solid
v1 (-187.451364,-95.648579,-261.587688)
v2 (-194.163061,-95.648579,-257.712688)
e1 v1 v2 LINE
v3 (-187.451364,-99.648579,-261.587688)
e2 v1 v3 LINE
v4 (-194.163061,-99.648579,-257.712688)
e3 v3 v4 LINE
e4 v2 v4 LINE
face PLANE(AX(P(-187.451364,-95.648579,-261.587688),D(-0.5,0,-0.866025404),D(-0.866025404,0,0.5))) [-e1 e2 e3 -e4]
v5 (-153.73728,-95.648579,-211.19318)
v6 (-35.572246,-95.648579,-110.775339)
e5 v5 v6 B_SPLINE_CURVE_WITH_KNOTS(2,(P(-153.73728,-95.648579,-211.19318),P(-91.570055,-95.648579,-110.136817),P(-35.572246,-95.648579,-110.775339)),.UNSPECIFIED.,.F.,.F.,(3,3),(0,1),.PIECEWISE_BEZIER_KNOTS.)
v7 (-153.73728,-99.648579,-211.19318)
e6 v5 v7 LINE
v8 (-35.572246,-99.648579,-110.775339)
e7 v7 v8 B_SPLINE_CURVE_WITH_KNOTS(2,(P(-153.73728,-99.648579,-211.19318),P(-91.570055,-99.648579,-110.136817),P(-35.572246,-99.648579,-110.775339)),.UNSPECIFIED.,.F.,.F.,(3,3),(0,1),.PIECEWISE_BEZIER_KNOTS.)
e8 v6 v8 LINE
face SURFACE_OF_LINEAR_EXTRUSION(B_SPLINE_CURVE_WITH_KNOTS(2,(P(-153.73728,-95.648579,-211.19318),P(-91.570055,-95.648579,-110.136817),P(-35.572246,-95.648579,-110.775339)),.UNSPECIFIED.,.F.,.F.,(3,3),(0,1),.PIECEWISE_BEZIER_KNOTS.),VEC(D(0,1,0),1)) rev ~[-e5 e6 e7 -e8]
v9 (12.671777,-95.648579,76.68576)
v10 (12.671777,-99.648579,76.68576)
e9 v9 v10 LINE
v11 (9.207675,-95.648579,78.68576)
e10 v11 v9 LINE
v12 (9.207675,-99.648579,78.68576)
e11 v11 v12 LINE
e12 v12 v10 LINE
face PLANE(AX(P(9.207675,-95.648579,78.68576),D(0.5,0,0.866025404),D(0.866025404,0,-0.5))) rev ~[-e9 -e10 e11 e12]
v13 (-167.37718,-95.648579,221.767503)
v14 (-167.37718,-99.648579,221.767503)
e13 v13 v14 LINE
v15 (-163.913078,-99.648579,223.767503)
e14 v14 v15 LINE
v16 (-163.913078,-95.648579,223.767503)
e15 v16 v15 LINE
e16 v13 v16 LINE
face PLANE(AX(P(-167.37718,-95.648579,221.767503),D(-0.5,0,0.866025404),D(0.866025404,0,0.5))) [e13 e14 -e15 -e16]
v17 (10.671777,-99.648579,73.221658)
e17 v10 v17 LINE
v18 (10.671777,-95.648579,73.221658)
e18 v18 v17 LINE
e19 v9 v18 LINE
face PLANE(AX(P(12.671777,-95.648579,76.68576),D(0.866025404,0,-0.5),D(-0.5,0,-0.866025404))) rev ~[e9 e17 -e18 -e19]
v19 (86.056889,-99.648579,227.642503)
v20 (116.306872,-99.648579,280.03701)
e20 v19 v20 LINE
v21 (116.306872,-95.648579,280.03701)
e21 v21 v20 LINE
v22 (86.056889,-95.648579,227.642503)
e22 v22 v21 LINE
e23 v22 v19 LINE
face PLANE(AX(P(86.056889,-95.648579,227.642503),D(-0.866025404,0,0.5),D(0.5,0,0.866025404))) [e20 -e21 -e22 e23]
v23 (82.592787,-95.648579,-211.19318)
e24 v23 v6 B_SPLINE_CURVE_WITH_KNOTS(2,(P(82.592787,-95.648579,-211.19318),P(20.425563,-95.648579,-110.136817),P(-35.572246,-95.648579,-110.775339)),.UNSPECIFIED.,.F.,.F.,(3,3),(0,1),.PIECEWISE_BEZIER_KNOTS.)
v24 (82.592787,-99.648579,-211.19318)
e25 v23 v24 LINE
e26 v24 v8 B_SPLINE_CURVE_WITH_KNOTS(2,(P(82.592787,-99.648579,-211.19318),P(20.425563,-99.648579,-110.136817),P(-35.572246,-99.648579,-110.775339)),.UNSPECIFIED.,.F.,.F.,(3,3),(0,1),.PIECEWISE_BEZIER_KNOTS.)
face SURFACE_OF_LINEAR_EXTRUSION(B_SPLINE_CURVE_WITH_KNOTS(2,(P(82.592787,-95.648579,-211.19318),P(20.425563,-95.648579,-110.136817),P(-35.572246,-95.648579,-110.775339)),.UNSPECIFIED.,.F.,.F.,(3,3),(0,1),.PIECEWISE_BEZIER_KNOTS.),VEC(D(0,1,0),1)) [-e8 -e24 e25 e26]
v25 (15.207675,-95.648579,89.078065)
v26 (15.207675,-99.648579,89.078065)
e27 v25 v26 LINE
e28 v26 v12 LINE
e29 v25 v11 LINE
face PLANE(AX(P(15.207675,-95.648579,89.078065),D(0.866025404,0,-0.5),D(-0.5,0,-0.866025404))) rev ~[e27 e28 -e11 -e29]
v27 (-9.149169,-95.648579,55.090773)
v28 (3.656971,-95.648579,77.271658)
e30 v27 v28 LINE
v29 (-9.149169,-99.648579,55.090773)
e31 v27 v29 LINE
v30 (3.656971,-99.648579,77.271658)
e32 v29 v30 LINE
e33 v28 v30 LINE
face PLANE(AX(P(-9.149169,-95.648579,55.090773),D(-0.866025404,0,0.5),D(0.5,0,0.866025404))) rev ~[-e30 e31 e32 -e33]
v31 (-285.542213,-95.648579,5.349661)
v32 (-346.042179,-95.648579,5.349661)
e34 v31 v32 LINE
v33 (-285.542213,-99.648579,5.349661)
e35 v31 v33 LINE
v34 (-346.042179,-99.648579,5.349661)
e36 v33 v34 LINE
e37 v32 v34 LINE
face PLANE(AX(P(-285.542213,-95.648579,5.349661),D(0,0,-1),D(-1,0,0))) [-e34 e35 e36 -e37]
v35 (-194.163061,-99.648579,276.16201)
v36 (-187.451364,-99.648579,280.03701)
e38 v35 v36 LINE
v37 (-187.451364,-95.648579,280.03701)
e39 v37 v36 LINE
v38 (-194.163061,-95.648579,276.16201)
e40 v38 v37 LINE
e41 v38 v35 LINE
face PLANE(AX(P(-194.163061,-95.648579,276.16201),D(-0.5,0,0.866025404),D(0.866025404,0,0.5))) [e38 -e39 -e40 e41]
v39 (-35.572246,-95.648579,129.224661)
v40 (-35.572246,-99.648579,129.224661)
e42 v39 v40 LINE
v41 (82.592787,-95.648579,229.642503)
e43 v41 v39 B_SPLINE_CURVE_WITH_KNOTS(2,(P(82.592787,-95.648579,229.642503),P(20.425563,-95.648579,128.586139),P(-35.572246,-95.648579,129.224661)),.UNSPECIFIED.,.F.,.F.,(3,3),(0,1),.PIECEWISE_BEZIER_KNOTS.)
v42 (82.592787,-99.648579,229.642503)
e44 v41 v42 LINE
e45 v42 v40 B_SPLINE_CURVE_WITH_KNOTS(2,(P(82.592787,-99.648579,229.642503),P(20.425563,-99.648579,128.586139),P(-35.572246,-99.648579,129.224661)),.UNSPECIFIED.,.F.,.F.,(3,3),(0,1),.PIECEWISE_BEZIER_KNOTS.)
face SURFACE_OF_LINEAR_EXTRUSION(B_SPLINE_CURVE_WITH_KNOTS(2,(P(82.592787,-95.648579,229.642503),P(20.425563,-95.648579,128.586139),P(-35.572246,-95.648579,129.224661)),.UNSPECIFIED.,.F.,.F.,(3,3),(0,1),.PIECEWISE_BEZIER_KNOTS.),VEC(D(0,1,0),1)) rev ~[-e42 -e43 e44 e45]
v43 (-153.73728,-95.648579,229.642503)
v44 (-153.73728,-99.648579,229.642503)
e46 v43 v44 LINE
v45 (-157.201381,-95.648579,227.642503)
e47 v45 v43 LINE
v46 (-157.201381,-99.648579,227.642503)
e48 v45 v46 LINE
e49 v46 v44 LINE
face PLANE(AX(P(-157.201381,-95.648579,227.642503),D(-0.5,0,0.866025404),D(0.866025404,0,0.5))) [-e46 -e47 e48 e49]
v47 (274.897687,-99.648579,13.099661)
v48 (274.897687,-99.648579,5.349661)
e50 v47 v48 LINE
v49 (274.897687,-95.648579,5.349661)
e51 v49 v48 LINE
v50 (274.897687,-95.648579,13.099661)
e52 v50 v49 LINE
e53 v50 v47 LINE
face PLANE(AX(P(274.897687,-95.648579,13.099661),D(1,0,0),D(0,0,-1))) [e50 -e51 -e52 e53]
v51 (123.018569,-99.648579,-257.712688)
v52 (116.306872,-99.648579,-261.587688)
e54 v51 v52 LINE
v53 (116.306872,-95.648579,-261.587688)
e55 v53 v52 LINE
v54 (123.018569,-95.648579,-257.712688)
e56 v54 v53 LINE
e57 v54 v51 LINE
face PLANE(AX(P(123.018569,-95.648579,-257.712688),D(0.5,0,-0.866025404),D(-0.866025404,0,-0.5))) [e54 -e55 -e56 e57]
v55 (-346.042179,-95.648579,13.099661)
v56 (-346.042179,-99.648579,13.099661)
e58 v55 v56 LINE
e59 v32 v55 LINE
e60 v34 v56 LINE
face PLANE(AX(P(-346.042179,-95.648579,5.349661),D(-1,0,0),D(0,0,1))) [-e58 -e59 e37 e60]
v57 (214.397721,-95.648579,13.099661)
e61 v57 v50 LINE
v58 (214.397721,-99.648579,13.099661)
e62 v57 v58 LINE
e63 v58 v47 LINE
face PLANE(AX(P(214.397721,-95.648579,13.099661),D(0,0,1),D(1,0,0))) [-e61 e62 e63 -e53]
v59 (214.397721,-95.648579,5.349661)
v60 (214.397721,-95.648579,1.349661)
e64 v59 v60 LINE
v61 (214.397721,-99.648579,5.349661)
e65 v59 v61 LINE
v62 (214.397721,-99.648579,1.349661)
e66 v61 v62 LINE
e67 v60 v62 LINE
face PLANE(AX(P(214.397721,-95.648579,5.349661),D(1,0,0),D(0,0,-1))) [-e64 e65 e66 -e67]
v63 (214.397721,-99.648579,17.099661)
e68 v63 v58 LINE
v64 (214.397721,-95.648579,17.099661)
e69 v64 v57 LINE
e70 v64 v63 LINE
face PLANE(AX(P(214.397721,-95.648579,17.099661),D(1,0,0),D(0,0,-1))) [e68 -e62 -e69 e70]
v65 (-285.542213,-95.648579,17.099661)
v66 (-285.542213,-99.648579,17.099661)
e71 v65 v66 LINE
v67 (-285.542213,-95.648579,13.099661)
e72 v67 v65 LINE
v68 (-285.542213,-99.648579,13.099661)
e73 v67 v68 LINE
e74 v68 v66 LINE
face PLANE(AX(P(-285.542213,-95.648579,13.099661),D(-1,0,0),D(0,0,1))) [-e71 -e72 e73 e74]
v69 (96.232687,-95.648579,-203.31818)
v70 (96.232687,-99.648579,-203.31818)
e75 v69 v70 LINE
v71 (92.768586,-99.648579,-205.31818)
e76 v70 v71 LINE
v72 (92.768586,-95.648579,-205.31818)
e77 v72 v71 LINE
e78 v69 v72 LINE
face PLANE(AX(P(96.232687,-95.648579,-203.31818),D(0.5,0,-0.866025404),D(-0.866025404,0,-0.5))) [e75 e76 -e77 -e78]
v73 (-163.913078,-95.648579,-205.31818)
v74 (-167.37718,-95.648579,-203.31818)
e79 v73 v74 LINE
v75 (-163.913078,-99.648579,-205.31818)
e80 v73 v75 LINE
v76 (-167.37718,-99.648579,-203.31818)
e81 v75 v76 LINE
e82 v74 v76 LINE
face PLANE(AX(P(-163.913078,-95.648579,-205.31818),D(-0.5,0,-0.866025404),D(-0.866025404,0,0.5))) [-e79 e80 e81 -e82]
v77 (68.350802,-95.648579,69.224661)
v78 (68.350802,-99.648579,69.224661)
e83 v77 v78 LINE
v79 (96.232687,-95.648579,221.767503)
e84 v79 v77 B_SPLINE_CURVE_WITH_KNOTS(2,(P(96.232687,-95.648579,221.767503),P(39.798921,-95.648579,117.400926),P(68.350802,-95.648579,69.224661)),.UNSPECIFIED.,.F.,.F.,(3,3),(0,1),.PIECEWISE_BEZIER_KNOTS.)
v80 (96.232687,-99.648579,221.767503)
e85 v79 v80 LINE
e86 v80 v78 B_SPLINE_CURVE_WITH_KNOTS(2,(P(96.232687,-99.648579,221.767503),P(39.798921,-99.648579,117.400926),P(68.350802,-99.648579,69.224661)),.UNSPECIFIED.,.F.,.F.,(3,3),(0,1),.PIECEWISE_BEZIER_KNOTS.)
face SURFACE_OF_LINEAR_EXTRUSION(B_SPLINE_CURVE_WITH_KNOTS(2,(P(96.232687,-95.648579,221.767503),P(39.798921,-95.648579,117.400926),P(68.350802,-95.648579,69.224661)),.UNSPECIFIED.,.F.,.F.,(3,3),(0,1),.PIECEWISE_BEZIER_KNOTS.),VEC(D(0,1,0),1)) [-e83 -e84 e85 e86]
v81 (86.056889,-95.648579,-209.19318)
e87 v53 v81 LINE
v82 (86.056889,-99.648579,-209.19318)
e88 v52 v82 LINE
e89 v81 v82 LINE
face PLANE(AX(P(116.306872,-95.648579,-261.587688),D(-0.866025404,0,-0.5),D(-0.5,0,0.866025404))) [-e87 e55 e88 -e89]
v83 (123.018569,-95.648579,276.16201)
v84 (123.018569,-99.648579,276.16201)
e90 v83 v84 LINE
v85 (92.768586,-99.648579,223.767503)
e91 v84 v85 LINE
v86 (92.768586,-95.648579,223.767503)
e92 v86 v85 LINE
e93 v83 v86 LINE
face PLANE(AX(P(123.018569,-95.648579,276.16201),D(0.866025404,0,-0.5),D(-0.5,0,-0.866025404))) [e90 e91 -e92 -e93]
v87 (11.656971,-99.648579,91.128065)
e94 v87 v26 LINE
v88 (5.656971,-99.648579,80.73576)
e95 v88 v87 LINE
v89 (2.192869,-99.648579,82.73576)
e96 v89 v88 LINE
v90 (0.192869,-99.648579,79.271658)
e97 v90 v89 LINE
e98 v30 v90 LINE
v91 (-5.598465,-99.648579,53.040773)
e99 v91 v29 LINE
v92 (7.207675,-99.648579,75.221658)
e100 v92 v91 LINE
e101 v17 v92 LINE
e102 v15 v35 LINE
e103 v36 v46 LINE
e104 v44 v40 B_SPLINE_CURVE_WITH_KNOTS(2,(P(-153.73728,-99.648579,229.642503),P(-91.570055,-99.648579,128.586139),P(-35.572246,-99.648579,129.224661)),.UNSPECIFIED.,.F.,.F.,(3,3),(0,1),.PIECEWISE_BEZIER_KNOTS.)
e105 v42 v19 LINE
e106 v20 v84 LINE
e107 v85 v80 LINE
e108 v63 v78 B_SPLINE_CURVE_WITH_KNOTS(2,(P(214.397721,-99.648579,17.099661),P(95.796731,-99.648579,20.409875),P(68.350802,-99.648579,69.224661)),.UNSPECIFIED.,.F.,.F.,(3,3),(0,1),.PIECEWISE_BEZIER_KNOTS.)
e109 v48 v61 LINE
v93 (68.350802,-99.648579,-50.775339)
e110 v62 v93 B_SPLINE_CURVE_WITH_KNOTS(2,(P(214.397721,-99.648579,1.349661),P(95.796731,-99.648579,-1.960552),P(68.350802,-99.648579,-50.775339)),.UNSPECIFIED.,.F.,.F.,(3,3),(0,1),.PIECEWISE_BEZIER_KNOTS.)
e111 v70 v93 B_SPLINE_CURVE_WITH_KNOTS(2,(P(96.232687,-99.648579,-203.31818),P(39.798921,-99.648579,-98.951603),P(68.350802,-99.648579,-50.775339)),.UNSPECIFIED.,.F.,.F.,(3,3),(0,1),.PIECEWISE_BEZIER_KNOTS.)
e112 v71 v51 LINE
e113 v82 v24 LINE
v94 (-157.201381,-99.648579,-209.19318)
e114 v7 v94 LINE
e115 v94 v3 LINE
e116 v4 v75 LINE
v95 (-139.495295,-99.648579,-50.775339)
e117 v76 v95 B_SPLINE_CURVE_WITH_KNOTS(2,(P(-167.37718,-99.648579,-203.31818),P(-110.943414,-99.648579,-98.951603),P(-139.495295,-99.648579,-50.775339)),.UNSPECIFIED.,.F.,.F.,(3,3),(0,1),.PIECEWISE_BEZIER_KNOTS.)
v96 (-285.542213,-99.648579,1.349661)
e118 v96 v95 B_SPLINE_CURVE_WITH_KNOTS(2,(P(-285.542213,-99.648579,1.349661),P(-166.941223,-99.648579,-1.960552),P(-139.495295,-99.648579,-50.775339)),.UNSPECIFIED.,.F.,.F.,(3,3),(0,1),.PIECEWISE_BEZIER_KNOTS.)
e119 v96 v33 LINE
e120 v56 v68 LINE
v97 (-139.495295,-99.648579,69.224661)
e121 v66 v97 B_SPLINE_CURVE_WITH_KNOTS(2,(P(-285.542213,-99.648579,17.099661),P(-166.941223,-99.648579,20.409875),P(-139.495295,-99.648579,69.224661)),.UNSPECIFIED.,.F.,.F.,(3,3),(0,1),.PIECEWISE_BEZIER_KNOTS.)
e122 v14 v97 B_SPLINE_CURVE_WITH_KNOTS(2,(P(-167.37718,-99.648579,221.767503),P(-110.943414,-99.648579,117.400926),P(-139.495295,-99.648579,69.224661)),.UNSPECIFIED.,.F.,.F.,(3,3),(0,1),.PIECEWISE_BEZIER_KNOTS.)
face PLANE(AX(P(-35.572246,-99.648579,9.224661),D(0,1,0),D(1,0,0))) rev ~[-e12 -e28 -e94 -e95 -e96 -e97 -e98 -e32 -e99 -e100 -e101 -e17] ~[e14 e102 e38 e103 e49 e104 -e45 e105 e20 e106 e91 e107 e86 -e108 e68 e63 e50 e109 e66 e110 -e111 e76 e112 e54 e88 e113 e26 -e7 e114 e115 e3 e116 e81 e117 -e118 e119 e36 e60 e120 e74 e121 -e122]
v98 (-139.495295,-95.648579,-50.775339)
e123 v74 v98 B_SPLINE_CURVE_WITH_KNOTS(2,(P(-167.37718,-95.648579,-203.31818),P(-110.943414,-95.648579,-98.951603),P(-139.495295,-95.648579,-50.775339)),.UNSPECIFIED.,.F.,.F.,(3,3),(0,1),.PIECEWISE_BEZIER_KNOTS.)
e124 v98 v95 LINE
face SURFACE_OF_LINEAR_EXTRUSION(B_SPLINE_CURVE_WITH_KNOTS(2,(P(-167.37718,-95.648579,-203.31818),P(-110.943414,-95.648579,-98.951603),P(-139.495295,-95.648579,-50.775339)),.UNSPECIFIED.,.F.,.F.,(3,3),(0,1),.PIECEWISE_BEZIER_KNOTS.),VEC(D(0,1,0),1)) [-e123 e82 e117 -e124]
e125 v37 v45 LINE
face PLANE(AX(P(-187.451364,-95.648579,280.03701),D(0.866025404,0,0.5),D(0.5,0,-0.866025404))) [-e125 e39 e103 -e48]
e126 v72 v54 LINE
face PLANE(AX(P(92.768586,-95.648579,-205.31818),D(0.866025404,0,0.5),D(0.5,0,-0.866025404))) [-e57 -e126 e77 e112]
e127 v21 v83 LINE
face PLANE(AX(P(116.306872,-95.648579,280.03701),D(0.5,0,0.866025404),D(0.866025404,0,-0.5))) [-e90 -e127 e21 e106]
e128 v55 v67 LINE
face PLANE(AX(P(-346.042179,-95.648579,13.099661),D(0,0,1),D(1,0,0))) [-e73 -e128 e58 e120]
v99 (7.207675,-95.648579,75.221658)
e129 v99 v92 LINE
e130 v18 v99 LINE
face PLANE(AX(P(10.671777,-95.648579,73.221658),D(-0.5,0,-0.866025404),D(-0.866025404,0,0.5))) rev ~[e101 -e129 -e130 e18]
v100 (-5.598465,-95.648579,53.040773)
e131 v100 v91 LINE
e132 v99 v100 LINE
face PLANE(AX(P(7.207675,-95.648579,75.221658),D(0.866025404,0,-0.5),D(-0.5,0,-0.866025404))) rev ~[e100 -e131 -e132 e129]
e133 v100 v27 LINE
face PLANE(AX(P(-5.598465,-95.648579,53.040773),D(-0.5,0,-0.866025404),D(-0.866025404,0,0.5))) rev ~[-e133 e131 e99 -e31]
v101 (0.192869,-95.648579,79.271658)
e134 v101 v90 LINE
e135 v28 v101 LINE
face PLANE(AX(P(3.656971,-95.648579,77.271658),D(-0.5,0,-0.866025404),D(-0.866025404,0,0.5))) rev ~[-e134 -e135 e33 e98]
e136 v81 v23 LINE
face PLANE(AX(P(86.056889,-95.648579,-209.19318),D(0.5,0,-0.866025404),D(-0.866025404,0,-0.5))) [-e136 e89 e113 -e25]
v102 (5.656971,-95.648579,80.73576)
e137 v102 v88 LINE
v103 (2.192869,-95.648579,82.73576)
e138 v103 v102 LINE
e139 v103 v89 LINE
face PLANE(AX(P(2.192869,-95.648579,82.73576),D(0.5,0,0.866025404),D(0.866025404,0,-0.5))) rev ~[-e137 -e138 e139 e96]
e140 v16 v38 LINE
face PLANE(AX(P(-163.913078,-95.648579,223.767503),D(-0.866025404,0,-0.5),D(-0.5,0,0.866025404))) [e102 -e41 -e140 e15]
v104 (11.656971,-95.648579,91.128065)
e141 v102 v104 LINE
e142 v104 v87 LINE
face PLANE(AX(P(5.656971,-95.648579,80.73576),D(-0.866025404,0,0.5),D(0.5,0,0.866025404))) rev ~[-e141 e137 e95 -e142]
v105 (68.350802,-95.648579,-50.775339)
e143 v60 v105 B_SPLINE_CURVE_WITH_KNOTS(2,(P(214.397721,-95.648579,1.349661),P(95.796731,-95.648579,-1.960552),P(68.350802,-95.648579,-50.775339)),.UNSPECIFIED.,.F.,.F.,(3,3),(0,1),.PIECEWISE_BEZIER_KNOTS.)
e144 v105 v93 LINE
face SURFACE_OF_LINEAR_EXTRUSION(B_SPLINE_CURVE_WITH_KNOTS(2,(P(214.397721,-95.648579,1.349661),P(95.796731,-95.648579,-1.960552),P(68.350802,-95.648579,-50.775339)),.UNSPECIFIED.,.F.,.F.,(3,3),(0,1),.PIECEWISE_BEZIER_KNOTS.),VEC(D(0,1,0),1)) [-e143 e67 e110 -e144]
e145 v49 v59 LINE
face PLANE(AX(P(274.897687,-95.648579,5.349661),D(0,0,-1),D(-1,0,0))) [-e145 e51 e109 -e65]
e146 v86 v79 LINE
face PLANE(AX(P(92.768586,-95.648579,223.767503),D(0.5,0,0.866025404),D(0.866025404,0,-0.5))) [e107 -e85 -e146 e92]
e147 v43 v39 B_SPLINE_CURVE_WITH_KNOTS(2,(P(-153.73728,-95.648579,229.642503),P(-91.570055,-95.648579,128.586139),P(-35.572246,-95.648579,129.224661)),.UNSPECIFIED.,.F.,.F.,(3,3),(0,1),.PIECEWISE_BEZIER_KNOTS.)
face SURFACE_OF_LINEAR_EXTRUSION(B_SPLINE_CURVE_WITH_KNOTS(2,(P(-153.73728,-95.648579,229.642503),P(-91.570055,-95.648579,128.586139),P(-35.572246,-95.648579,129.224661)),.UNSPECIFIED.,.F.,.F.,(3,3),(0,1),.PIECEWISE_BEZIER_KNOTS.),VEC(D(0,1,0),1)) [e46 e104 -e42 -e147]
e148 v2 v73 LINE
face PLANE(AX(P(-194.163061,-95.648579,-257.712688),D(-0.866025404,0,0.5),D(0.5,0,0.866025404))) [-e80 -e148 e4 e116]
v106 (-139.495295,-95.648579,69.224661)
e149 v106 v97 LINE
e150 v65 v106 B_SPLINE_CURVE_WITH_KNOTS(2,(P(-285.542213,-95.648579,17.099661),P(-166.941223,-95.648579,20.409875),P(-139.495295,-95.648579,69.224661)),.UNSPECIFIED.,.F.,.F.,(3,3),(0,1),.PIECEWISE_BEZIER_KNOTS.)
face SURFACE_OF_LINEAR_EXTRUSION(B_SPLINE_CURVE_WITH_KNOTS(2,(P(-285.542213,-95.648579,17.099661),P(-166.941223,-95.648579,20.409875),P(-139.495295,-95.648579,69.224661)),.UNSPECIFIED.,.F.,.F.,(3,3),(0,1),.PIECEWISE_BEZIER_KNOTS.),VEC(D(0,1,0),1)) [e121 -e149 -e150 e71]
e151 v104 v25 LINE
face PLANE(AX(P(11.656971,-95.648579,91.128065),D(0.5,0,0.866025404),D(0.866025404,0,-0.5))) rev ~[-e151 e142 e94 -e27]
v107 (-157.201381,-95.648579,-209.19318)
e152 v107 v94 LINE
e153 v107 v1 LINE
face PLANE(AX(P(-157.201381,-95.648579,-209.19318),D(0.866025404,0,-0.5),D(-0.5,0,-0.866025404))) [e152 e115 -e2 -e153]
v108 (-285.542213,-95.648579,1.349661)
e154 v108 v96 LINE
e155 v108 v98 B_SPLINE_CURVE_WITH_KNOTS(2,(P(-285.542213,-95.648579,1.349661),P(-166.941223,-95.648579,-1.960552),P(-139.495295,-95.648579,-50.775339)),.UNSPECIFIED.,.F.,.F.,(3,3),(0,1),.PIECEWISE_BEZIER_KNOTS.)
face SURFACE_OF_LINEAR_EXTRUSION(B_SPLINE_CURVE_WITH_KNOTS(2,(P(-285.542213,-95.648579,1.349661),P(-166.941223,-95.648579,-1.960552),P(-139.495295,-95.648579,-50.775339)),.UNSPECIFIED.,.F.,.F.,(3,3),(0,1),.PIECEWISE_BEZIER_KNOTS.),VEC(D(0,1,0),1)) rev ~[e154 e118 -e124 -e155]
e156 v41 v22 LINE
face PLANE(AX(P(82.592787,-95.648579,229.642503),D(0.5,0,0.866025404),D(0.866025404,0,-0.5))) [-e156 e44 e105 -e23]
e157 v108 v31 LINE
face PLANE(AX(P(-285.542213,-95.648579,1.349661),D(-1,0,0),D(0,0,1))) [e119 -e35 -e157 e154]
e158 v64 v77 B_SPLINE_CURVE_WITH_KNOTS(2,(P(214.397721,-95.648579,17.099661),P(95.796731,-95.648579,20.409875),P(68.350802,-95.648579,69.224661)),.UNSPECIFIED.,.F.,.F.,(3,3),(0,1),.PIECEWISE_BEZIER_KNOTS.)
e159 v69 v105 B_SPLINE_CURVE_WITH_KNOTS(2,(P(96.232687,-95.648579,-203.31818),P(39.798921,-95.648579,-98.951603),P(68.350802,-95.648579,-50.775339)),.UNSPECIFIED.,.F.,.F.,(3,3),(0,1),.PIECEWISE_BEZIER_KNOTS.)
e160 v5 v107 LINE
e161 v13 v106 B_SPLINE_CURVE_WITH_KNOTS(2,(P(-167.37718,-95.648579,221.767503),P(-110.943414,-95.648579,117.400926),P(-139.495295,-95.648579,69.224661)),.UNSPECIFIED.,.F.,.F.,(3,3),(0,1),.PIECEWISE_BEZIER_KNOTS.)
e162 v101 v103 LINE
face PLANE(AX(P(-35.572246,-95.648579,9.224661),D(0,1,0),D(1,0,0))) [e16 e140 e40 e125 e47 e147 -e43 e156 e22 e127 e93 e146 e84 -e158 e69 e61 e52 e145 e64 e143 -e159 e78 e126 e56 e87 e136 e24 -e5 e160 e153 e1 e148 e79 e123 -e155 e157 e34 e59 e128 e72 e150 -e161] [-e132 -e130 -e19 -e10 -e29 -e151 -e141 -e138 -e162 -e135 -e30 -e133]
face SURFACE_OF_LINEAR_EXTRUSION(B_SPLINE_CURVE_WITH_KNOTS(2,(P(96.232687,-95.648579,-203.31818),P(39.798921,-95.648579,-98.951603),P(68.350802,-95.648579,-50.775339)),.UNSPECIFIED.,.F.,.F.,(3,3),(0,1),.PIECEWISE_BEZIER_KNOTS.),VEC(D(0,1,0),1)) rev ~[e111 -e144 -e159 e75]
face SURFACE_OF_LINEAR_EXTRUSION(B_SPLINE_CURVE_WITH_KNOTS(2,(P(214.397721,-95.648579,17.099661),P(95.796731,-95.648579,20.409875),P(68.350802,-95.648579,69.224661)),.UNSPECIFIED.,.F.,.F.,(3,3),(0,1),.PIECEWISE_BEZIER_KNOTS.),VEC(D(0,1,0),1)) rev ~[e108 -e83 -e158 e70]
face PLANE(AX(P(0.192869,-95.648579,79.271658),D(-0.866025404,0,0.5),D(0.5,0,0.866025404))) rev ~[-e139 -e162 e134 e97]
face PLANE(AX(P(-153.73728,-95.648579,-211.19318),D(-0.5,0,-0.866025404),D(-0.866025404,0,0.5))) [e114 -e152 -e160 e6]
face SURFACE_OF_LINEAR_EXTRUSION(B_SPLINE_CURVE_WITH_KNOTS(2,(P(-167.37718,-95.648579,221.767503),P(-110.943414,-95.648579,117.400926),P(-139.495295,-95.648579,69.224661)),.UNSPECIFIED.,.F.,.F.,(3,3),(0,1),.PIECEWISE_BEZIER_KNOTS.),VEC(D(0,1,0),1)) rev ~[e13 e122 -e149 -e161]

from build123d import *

# Parameters (mm, degrees)
BOSS_EXTRUDE1_DEPTH = 4


with BuildPart() as part:
    # Sketch1 → Boss-Extrude1 (new body)
    with BuildSketch(Plane(origin=(0, -95.648578892, 0), x_dir=(-1, 0, 0), z_dir=(0, -1, 0))):
        with BuildLine():
            Line((-123.018568843, 257.712687792), (-116.306871964, 261.587687792))
            Line((-116.306871964, 261.587687792), (-86.056888913, 209.19318022))
            Line((-86.056888913, 209.19318022), (-82.592787298, 211.19318022))
            add(Edge.make_bspline(
                [(-82.592787298, 211.19318022), (-20.425563037, 110.136816529), (35.572246121, 110.775338662)],
                knots=[0, 0, 0, 1, 1, 1], degree=2))
            add(Edge.make_bspline(
                [(153.737279537, 211.193180221), (91.570055279, 110.136816529), (35.572246121, 110.775338662)],
                knots=[0, 0, 0, 1, 1, 1], degree=2))
            Line((153.737279537, 211.193180221), (157.201381153, 209.193180221))
            Line((157.201381153, 209.193180221), (187.451364204, 261.587687793))
            Line((187.451364204, 261.587687793), (194.163061083, 257.712687793))
            Line((194.163061083, 257.712687793), (163.913078032, 205.318180221))
            Line((163.913078032, 205.318180221), (167.377179647, 203.318180221))
            add(Edge.make_bspline(
                [(167.377179647, 203.318180221), (110.943413608, 98.951602883), (139.495294576, 50.775338663)],
                knots=[0, 0, 0, 1, 1, 1], degree=2))
            add(Edge.make_bspline(
                [(285.542213066, -1.349661336), (166.941222766, 1.960552309), (139.495294576, 50.775338663)],
                knots=[0, 0, 0, 1, 1, 1], degree=2))
            Line((285.542213066, -1.349661336), (285.542213066, -5.349661336))
            Line((285.542213066, -5.349661336), (346.042179168, -5.349661336))
            Line((346.042179168, -5.349661336), (346.042179168, -13.099661336))
            Line((346.042179168, -13.099661336), (285.542213066, -13.099661336))
            Line((285.542213066, -13.099661336), (285.542213066, -17.099661336))
            add(Edge.make_bspline(
                [(285.542213066, -17.099661336), (166.941222766, -20.409874983), (139.495294576, -69.224661337)],
                knots=[0, 0, 0, 1, 1, 1], degree=2))
            add(Edge.make_bspline(
                [(167.377179649, -221.767502894), (110.943413609, -117.400925558), (139.495294576, -69.224661337)],
                knots=[0, 0, 0, 1, 1, 1], degree=2))
            Line((167.377179649, -221.767502894), (163.913078034, -223.767502894))
            Line((163.913078034, -223.767502894), (194.163061085, -276.162010466))
            Line((194.163061085, -276.162010466), (187.451364206, -280.037010466))
            Line((187.451364206, -280.037010466), (157.201381155, -227.642502894))
            Line((157.201381155, -227.642502894), (153.737279539, -229.642502894))
            add(Edge.make_bspline(
                [(153.737279539, -229.642502894), (91.57005528, -128.586139204), (35.572246122, -129.224661338)],
                knots=[0, 0, 0, 1, 1, 1], degree=2))
            add(Edge.make_bspline(
                [(-82.592787296, -229.642502896), (-20.425563036, -128.586139204), (35.572246122, -129.224661338)],
                knots=[0, 0, 0, 1, 1, 1], degree=2))
            Line((-82.592787296, -229.642502896), (-86.056888911, -227.642502895))
            Line((-86.056888911, -227.642502895), (-116.306871962, -280.037010467))
            Line((-116.306871962, -280.037010467), (-123.018568841, -276.162010467))
            Line((-123.018568841, -276.162010467), (-92.76858579, -223.767502895))
            Line((-92.76858579, -223.767502895), (-96.232687406, -221.767502895))
            add(Edge.make_bspline(
                [(-96.232687406, -221.767502895), (-39.798921364, -117.400925558), (-68.350802332, -69.224661338)],
                knots=[0, 0, 0, 1, 1, 1], degree=2))
            add(Edge.make_bspline(
                [(-214.397720824, -17.099661339), (-95.796730523, -20.409874984), (-68.350802332, -69.224661338)],
                knots=[0, 0, 0, 1, 1, 1], degree=2))
            Line((-214.397720824, -17.099661339), (-214.397720824, -13.099661338))
            Line((-214.397720824, -13.099661338), (-274.897686926, -13.099661338))
            Line((-274.897686926, -13.099661338), (-274.897686926, -5.349661338))
            Line((-274.897686926, -5.349661338), (-214.397720824, -5.349661338))
            Line((-214.397720824, -5.349661338), (-214.397720824, -1.349661338))
            add(Edge.make_bspline(
                [(-214.397720824, -1.349661338), (-95.796730523, 1.960552308), (-68.350802333, 50.775338662)],
                knots=[0, 0, 0, 1, 1, 1], degree=2))
            add(Edge.make_bspline(
                [(-96.232687408, 203.31818022), (-39.798921365, 98.951602882), (-68.350802333, 50.775338662)],
                knots=[0, 0, 0, 1, 1, 1], degree=2))
            Line((-96.232687408, 203.31818022), (-92.768585792, 205.31818022))
            Line((-92.768585792, 205.31818022), (-123.018568843, 257.712687792))
        make_face()
        Polygon((9.149169363, -55.090772776), (-3.656970853, -77.271658278), (-0.192869237, -79.271658278), (-2.192869237, -82.735759893), (-5.656970853, -80.735759893), (-11.656970853, -91.128064739), (-15.207675008, -89.078064739), (-9.207675008, -78.685759893), (-12.671776623, -76.685759893), (-10.671776623, -73.221658278), (-7.207675008, -75.221658278), (5.598465207, -53.040772776), align=None, mode=Mode.SUBTRACT)
    extrude(amount=BOSS_EXTRUDE1_DEPTH)


solid = part.part
